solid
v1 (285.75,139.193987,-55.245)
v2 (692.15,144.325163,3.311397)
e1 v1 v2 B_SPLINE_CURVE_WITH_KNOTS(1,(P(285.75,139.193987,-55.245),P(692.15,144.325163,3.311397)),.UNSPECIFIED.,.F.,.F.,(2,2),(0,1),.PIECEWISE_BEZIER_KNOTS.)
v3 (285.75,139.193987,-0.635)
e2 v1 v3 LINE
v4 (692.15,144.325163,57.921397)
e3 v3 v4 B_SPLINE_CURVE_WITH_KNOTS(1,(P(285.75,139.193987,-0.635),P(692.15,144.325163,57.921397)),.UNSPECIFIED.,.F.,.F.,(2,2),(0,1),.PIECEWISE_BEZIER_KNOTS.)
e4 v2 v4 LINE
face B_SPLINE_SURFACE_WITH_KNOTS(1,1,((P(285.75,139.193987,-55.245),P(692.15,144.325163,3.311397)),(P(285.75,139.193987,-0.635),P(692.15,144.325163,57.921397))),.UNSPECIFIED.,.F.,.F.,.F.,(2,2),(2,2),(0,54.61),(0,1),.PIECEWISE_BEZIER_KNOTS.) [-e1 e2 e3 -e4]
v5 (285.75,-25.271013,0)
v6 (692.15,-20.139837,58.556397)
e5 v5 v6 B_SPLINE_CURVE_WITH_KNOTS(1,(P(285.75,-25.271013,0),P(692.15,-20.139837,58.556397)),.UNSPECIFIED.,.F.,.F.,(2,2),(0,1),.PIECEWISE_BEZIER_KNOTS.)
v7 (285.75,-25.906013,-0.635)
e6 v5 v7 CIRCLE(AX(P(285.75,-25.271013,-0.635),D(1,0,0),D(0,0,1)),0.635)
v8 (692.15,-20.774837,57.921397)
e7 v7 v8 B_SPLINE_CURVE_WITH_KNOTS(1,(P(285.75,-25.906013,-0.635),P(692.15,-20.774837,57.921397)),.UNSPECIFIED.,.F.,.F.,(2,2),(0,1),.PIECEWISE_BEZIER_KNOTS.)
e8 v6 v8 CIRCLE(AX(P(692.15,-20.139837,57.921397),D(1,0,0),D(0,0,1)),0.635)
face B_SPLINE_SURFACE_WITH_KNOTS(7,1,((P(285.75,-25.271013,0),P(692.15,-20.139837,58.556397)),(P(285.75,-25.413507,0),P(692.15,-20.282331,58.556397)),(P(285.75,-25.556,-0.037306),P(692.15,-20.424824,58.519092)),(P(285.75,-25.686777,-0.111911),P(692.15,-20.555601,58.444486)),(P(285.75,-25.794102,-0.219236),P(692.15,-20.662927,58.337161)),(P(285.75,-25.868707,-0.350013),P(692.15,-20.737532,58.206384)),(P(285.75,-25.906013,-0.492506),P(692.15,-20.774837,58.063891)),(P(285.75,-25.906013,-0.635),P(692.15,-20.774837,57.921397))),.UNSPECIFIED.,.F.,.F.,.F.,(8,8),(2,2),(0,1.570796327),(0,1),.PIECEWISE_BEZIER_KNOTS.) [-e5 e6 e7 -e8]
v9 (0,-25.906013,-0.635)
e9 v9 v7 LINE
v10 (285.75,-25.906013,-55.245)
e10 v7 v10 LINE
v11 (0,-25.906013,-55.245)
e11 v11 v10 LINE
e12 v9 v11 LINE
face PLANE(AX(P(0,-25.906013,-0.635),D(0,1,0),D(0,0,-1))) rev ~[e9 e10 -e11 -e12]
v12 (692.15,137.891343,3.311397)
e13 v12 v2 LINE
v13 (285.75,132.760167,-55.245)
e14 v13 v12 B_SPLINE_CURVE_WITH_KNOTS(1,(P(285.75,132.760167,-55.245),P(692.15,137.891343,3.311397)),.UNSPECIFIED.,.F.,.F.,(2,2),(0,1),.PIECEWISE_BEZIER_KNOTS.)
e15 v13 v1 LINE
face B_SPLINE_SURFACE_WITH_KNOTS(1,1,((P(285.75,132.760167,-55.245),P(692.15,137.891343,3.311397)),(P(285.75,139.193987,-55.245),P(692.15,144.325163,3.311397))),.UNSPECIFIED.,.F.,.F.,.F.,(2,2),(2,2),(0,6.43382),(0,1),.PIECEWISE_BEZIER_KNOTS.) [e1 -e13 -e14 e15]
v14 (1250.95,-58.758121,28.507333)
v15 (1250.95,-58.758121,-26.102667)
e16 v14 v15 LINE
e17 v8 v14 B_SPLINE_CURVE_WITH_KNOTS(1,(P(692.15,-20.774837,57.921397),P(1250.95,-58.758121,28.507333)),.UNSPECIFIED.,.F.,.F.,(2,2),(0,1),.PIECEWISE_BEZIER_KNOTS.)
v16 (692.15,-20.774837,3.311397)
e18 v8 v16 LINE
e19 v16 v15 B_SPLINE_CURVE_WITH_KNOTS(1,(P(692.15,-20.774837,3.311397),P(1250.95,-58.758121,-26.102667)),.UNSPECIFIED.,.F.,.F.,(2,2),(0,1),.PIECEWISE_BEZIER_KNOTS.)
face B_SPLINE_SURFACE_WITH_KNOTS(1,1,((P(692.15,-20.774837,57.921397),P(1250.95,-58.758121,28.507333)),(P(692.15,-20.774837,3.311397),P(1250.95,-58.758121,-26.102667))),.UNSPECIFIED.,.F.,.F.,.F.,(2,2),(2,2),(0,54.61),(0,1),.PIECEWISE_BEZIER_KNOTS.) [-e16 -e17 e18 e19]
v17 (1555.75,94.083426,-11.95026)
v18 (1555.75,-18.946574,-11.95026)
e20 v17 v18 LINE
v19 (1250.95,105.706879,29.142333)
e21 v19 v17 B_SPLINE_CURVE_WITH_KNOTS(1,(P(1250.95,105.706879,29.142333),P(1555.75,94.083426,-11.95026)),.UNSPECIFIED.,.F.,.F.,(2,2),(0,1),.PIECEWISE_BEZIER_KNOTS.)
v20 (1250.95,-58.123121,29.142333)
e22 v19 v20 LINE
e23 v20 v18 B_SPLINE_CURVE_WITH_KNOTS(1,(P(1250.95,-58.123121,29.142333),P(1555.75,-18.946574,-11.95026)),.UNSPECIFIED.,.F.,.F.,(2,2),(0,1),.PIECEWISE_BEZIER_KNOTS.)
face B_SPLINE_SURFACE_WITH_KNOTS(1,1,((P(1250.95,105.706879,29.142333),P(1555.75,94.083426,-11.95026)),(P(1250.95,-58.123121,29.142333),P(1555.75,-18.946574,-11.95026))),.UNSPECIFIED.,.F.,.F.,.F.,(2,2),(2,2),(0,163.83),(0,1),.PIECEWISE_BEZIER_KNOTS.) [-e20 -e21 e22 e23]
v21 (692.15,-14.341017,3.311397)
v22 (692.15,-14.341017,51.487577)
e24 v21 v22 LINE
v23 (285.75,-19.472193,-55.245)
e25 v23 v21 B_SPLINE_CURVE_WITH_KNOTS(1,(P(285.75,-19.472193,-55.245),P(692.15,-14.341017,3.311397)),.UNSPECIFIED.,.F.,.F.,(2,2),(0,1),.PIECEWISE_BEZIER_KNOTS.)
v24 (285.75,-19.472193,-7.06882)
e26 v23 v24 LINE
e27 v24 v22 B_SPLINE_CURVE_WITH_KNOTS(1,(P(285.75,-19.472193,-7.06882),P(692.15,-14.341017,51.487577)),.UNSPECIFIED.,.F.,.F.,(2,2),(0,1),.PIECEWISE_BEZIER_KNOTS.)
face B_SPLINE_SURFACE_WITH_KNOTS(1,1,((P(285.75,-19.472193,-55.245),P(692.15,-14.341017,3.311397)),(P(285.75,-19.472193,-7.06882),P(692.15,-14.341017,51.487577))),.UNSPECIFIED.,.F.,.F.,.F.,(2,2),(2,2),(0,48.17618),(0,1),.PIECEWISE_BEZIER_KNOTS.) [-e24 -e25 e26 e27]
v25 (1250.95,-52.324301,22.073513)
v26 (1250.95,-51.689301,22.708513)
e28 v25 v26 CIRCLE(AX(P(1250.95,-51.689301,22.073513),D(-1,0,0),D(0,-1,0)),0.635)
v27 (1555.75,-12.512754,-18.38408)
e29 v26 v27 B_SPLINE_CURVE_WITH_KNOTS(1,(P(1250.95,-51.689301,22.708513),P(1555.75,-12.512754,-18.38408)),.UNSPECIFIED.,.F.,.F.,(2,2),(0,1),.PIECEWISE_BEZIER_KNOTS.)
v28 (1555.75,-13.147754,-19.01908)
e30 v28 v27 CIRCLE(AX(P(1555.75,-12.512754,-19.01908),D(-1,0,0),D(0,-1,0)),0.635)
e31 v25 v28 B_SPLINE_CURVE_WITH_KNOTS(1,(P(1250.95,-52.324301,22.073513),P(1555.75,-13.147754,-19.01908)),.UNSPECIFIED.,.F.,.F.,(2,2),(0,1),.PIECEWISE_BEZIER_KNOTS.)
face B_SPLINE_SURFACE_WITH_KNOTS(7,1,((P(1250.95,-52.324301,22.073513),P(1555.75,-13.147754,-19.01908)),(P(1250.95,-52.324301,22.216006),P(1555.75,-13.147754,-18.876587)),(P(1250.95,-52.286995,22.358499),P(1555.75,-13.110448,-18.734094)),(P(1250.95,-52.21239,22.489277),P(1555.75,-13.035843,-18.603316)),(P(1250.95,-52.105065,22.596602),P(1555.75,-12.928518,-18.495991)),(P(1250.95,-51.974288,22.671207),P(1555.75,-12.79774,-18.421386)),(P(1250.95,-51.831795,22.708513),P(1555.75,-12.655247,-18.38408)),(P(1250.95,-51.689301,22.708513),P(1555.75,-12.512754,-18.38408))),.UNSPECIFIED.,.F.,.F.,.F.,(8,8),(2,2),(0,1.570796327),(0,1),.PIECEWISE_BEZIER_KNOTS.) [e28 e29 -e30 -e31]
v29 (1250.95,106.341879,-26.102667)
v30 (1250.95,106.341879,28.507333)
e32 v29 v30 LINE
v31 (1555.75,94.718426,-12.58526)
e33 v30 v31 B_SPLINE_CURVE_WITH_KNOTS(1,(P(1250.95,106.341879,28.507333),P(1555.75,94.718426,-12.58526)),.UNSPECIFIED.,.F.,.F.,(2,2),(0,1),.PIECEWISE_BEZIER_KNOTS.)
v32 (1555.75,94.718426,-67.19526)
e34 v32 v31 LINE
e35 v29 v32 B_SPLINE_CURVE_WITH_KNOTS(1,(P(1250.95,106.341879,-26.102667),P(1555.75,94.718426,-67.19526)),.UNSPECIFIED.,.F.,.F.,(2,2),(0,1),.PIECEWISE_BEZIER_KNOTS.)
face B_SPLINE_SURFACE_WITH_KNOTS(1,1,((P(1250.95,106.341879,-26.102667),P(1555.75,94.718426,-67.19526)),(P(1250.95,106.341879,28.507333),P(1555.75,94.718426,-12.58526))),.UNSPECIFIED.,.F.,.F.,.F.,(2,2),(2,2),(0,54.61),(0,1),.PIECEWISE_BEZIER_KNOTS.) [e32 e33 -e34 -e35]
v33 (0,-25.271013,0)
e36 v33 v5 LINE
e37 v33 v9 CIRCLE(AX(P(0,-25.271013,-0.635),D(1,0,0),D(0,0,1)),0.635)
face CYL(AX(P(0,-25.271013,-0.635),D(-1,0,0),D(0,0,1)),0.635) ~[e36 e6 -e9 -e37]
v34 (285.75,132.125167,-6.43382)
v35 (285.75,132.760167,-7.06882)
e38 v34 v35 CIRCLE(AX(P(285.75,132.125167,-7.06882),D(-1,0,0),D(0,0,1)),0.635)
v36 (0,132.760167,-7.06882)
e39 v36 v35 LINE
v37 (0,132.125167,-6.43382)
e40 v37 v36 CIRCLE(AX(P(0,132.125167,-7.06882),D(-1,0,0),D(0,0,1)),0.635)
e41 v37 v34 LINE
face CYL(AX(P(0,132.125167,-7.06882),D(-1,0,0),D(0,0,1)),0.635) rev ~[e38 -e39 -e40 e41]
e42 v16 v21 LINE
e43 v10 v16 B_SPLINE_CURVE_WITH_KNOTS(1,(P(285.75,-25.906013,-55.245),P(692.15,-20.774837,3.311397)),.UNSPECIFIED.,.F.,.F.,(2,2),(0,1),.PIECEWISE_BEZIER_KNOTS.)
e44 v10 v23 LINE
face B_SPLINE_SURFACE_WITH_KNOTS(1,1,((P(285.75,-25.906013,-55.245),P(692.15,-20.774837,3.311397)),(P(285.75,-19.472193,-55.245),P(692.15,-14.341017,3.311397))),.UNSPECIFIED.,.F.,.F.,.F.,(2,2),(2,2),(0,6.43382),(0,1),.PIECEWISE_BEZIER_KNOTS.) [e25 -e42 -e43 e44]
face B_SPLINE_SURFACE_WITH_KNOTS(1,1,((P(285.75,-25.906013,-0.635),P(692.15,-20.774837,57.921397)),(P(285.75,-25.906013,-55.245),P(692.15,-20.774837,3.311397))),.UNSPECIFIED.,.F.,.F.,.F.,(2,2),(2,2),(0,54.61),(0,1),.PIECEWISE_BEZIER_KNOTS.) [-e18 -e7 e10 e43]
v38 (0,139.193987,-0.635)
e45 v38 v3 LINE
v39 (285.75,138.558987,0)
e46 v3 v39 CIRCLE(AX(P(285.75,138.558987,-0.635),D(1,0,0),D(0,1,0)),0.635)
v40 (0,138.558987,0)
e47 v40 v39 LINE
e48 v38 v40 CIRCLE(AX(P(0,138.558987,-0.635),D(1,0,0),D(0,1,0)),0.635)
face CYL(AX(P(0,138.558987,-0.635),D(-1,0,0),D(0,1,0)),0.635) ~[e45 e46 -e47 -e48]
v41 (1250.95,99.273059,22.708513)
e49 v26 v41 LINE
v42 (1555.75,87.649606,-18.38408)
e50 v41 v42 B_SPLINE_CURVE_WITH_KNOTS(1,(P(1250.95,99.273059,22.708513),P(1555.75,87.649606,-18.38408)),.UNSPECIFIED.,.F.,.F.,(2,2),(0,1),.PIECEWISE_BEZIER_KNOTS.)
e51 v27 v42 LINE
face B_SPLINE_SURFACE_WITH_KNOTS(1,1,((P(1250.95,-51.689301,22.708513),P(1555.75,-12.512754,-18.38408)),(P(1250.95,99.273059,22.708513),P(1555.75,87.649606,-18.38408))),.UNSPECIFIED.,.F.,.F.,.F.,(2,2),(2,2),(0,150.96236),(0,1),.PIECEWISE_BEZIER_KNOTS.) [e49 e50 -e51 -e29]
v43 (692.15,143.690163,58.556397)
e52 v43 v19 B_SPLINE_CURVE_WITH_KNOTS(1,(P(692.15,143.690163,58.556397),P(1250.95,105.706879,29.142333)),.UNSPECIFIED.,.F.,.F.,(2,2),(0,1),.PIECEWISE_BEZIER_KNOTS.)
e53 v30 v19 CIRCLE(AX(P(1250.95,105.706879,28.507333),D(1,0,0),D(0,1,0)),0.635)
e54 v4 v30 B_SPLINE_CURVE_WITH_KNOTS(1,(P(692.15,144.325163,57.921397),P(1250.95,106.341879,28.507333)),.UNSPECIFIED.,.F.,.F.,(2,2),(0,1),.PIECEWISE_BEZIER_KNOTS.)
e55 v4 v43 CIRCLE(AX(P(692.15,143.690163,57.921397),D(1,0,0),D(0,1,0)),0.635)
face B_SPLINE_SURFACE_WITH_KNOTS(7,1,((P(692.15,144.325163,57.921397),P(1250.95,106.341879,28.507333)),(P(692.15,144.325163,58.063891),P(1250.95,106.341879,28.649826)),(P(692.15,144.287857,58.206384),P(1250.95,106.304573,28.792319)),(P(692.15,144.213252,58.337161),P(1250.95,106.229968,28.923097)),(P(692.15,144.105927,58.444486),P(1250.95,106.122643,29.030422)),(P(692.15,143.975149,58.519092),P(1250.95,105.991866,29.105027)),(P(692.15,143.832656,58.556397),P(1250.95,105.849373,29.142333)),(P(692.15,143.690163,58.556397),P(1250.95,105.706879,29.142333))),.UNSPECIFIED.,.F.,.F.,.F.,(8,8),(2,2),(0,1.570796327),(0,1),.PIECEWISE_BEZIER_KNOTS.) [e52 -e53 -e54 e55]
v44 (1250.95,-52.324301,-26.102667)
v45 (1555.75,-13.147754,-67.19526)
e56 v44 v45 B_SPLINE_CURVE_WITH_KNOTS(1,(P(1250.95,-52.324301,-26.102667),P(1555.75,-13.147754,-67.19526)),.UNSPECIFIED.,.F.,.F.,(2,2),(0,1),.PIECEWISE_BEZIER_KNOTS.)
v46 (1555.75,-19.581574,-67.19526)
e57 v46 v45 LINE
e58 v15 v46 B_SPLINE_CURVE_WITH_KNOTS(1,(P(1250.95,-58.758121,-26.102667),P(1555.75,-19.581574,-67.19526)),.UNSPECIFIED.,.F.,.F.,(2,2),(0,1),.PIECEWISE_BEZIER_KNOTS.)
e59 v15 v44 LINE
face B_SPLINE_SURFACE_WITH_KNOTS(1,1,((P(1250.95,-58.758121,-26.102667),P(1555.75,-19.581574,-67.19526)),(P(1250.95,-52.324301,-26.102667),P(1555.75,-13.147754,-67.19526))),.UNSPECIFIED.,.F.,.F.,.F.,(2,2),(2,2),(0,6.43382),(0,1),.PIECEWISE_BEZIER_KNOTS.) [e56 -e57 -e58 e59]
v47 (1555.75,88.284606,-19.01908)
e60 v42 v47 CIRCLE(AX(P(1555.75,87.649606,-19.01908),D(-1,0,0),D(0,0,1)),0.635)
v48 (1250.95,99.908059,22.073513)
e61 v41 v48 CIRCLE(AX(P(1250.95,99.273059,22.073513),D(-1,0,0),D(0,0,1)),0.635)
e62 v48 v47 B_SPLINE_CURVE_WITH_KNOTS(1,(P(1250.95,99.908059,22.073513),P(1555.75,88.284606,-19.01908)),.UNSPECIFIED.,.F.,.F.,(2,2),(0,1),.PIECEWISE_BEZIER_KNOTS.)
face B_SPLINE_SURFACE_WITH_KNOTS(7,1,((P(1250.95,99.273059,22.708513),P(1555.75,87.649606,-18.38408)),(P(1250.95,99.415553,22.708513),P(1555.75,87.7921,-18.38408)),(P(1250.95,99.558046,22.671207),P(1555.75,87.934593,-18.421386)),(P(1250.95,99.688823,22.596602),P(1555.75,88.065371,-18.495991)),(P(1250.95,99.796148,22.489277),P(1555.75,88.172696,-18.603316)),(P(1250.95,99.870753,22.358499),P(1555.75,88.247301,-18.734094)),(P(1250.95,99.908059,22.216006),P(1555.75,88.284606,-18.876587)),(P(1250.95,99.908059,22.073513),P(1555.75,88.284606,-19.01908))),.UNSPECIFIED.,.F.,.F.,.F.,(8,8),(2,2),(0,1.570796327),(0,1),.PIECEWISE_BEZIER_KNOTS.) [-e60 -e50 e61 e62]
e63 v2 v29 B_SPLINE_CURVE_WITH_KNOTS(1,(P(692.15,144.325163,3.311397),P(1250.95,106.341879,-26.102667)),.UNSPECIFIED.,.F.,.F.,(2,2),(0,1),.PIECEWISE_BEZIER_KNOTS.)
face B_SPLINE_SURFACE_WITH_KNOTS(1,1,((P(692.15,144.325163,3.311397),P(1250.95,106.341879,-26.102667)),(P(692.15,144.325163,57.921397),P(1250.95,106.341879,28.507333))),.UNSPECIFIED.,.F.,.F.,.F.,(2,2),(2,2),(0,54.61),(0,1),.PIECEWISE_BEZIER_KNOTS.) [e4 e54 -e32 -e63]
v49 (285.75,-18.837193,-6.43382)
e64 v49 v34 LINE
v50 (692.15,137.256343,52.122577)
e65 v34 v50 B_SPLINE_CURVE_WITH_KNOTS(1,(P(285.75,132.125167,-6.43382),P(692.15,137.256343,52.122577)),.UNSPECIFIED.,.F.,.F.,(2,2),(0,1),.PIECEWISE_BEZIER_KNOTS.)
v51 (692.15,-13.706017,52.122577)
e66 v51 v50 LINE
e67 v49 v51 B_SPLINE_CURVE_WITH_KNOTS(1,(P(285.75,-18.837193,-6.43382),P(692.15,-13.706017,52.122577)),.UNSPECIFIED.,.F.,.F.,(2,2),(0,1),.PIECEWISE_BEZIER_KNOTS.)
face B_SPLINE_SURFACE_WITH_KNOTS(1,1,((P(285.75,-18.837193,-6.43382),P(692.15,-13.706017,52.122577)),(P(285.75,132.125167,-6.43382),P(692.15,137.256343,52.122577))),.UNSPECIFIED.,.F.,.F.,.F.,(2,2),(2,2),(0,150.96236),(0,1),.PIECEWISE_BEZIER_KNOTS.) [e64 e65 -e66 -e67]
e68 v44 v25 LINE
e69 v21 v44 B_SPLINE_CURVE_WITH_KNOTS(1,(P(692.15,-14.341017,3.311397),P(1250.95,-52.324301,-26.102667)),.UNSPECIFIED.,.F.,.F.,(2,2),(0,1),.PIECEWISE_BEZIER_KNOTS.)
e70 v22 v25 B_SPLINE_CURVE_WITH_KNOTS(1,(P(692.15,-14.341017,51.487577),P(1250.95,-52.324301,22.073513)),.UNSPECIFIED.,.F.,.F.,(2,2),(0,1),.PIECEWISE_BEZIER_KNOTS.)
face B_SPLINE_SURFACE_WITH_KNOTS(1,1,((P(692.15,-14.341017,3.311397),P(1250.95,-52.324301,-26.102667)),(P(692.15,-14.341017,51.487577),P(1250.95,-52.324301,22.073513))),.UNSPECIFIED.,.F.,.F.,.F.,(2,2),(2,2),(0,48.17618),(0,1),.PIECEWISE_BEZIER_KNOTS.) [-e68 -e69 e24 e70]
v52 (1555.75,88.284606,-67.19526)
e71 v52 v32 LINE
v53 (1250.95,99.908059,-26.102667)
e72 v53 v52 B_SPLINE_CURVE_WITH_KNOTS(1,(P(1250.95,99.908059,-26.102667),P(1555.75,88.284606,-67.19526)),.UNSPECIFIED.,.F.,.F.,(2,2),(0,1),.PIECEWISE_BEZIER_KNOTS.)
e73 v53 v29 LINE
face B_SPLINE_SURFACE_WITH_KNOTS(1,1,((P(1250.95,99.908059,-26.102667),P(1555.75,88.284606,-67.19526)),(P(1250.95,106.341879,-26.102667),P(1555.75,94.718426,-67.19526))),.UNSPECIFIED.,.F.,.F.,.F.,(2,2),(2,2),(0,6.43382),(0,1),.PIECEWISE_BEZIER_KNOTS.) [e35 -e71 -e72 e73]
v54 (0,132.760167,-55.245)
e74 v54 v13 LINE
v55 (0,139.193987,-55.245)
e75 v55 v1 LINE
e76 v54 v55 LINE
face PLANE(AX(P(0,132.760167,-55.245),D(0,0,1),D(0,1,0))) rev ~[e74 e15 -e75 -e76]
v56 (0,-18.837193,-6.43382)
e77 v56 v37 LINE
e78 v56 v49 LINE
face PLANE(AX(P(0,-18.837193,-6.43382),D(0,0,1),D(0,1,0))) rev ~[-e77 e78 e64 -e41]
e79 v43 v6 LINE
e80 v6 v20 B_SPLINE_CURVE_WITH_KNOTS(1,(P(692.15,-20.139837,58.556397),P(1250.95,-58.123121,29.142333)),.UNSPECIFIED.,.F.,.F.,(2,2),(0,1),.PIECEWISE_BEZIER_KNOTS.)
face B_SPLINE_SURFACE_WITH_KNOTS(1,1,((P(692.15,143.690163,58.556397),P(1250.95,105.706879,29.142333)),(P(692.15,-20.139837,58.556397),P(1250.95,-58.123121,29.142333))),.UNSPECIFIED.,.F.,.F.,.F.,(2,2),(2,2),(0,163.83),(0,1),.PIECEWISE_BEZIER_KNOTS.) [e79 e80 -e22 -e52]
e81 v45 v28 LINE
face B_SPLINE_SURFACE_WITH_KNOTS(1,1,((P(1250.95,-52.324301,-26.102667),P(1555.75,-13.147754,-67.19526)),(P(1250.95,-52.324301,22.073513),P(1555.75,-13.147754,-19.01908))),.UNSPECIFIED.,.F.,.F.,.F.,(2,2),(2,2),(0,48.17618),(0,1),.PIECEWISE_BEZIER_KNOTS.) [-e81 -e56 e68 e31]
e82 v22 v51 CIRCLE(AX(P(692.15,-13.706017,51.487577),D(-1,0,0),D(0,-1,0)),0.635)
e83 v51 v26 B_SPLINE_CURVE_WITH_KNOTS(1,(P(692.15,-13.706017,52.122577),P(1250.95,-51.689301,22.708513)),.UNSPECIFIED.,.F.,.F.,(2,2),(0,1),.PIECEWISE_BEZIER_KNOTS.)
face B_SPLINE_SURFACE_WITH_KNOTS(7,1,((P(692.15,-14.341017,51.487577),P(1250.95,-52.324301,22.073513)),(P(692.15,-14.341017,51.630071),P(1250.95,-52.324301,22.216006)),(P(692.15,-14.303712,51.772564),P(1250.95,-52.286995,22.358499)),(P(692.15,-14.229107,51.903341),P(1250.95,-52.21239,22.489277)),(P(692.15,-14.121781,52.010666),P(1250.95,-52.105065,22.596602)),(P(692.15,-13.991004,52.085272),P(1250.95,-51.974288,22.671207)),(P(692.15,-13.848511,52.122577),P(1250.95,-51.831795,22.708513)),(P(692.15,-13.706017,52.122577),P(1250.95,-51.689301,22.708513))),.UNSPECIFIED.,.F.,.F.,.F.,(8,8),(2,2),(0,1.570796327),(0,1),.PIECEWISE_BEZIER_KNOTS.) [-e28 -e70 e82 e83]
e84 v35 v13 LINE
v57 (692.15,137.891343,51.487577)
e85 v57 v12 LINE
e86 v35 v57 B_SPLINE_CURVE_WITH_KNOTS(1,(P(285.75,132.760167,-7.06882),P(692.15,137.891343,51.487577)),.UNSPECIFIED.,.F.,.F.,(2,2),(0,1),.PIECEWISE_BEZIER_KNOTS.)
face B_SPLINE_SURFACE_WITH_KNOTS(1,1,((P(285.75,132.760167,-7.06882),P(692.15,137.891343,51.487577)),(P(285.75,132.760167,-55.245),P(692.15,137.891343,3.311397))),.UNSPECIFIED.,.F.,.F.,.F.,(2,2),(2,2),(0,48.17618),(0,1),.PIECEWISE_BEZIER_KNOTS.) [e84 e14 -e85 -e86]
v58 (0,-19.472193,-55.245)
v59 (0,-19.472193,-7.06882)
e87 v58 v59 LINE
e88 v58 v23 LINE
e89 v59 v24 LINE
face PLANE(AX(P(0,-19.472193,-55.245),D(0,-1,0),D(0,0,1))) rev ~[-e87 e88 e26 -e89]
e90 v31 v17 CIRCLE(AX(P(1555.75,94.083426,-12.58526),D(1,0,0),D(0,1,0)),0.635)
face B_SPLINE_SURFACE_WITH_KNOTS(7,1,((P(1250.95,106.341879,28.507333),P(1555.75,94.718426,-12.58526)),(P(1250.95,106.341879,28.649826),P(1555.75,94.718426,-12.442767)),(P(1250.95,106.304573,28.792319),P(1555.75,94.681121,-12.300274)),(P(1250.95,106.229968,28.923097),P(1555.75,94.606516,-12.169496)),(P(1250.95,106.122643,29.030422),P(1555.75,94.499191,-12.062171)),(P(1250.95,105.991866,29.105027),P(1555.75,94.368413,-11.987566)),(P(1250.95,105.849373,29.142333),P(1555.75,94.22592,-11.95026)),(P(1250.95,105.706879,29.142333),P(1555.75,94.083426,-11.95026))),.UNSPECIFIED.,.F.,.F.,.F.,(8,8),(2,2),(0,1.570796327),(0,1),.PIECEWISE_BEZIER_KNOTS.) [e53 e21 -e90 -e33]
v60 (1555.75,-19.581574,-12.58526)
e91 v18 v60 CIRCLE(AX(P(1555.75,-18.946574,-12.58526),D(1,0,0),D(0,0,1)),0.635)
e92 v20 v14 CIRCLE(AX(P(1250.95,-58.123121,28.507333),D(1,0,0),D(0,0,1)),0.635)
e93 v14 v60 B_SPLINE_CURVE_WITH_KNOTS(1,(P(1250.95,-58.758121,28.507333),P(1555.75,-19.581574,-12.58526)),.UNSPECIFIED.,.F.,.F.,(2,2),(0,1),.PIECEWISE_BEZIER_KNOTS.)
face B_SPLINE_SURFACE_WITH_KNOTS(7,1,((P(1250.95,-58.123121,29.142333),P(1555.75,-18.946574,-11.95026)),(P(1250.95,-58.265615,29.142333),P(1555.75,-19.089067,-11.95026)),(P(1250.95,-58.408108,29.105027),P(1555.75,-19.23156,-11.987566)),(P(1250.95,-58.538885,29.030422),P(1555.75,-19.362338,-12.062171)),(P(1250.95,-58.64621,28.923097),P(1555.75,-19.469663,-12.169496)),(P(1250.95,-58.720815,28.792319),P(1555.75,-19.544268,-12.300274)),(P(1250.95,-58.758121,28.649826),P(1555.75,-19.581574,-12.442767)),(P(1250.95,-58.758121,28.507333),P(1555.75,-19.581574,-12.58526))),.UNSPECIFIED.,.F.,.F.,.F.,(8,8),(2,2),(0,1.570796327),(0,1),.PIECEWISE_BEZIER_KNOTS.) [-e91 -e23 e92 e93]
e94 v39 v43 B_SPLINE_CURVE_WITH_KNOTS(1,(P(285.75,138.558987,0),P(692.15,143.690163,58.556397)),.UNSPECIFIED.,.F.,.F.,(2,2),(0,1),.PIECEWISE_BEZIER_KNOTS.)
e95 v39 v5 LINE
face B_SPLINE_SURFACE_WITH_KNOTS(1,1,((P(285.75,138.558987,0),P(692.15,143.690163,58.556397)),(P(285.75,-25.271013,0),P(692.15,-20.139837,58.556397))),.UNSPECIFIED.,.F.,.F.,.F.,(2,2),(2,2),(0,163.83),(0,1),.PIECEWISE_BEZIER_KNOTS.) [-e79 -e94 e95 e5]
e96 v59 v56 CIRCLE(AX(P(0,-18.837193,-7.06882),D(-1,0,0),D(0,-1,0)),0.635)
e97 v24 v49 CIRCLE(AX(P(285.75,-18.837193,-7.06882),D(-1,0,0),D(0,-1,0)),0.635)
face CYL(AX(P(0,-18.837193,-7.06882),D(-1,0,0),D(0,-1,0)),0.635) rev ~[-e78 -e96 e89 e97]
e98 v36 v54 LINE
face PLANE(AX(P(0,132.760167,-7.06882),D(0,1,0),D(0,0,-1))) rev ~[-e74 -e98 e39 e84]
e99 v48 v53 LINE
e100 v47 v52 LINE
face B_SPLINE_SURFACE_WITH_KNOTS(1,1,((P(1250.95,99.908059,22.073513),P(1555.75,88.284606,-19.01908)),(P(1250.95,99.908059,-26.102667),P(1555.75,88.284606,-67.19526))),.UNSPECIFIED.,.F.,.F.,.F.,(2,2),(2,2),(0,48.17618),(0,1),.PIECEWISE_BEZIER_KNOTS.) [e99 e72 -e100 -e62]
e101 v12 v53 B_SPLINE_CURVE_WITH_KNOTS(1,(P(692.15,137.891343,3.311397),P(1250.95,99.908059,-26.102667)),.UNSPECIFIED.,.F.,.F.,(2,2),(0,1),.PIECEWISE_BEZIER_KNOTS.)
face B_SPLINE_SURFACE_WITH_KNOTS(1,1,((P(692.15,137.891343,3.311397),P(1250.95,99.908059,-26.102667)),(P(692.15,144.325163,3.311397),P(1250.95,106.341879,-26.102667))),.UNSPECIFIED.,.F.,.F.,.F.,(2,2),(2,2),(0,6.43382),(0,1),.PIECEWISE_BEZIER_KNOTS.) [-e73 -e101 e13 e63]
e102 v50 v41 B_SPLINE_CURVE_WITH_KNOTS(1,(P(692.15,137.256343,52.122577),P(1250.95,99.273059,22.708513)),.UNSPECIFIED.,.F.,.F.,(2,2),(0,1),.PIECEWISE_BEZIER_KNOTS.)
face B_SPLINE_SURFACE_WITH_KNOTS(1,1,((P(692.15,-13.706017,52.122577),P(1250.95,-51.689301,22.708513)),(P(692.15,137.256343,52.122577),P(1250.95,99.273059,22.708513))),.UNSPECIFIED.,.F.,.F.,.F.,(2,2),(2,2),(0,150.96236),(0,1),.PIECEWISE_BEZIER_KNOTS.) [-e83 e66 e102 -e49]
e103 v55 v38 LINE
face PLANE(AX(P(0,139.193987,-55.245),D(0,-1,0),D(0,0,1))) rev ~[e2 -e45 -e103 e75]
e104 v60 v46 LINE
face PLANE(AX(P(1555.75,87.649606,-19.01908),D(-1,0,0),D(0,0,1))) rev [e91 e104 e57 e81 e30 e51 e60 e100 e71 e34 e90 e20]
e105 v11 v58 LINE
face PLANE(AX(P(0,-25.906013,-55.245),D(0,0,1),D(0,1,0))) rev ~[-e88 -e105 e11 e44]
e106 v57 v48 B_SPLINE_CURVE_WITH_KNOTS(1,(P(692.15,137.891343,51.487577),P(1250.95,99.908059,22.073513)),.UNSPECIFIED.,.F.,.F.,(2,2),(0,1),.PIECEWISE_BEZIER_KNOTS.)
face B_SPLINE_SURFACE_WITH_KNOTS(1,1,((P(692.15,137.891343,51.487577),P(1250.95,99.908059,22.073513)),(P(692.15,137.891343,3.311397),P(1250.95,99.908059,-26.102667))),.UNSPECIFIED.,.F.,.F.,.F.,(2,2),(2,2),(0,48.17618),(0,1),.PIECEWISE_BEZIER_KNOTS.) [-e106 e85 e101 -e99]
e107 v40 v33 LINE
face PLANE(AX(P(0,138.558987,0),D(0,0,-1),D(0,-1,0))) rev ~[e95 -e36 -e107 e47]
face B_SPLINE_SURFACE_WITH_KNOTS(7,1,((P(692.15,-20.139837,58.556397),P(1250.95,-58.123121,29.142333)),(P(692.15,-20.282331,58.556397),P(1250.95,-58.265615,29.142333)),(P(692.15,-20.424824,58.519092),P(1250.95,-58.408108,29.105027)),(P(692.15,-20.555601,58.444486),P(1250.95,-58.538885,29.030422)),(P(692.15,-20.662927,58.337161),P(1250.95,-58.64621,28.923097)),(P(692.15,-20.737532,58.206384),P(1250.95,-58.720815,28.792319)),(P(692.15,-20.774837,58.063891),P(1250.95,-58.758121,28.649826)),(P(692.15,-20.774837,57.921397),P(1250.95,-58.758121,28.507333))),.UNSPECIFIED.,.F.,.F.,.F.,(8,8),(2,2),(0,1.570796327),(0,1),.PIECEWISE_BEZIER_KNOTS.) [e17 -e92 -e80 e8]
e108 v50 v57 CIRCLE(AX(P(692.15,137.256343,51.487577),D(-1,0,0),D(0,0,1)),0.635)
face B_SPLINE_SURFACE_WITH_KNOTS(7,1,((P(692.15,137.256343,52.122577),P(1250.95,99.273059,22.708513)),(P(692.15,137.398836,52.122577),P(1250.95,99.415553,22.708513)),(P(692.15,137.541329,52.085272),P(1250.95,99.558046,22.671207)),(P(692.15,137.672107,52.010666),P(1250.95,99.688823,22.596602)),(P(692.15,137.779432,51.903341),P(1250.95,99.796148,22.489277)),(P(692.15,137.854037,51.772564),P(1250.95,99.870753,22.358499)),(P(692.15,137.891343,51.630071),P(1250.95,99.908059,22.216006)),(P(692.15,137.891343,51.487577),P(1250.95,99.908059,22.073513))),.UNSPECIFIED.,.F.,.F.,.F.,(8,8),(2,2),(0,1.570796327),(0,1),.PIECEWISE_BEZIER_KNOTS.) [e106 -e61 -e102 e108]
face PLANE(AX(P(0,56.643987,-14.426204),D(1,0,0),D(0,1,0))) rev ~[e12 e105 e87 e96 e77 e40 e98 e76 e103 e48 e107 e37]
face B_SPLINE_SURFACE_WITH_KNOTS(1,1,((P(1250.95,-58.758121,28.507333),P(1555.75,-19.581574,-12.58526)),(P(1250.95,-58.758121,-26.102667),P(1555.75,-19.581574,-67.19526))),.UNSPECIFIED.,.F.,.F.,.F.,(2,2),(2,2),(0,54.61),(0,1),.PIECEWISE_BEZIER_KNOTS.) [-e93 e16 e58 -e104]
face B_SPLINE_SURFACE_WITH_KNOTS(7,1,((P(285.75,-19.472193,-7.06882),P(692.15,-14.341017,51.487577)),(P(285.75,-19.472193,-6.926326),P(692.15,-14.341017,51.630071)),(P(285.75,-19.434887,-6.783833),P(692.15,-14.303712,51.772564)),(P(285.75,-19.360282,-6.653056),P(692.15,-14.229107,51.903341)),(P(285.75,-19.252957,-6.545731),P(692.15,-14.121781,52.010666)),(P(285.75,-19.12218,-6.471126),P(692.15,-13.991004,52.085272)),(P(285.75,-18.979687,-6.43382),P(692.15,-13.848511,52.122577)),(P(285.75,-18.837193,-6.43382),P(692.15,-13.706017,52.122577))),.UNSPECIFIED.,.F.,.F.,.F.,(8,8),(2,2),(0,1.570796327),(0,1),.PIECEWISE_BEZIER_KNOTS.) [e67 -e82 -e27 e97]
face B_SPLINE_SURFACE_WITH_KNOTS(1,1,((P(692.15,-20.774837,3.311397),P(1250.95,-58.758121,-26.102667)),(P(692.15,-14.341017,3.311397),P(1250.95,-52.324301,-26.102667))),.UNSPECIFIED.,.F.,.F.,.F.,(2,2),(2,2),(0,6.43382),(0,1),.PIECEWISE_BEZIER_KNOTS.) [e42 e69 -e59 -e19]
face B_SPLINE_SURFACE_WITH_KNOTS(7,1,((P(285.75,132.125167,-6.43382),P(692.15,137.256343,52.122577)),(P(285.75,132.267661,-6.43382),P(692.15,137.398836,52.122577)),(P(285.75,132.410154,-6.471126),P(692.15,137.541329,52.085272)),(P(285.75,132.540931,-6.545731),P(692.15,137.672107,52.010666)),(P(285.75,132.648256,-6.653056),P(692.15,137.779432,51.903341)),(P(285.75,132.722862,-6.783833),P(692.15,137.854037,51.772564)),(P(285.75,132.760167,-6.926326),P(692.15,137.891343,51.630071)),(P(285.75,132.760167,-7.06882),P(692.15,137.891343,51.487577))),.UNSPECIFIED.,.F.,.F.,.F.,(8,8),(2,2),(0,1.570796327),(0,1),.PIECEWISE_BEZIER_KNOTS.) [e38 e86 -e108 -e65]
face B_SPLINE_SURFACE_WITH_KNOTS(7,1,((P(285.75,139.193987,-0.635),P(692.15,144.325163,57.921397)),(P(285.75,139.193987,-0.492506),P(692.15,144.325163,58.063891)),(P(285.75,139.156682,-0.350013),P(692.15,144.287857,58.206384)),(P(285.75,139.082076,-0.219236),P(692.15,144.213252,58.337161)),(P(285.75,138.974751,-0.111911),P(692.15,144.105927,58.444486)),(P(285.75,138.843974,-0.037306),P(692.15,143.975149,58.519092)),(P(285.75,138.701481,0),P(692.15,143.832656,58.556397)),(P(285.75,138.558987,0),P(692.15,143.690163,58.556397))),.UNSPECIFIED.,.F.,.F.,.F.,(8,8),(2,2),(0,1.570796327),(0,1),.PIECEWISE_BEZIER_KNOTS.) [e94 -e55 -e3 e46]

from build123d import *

# Parameters (mm, degrees)
F1_DEPTH = 285.75


with BuildPart() as f1:
    # F0 (on Right) → F1 (new body)
    with BuildSketch(Plane.YZ):
        with BuildLine():
            Line((139.1939870883, -55.245), (139.1939870883, -0.635))
            ThreePointArc((139.1939870883, -0.635), (139.0079998944, -0.1859871939), (138.5589870883, 0))
            Line((138.5589870883, 0), (-25.2710129117, 0))
            ThreePointArc((-25.2710129117, 0), (-25.7200257177, -0.1859871939), (-25.9060129117, -0.635))
            Line((-25.9060129117, -0.635), (-25.9060129117, -55.245))
            Line((-25.9060129117, -55.245), (-19.4721929117, -55.245))
            Line((-19.4721929117, -55.245), (-19.4721929117, -7.06882))
            ThreePointArc((-19.4721929117, -7.06882), (-19.2862057177, -6.6198071939), (-18.8371929117, -6.43382))
            Line((-18.8371929117, -6.43382), (132.1251670883, -6.43382))
            ThreePointArc((132.1251670883, -6.43382), (132.5741798944, -6.6198071939), (132.7601670883, -7.06882))
            Line((132.7601670883, -7.06882), (132.7601670883, -55.245))
            Line((132.7601670883, -55.245), (139.1939870883, -55.245))
        make_face()
    extrude(amount=F1_DEPTH)

    # F1_face (on face) → F4 section 0
    with BuildSketch(Plane(origin=(285.75, 56.6439870883, -13.4815357622), x_dir=(0, 1, 0), z_dir=(1, 0, 0))):
        with BuildLine():
            ThreePointArc((75.48118, 7.0477157622), (75.9301928061, 6.8617285682), (76.11618, 6.4127157622))
            Line((76.11618, 6.4127157622), (76.11618, -41.7634642378))
            Line((76.11618, -41.7634642378), (82.55, -41.7634642378))
            Line((82.55, -41.7634642378), (82.55, 12.8465357622))
            ThreePointArc((82.55, 12.8465357622), (82.3640128061, 13.2955485682), (81.915, 13.4815357622))
            Line((81.915, 13.4815357622), (-81.915, 13.4815357622))
            ThreePointArc((-81.915, 13.4815357622), (-82.3640128061, 13.2955485682), (-82.55, 12.8465357622))
            Line((-82.55, 12.8465357622), (-82.55, -41.7634642378))
            Line((-82.55, -41.7634642378), (-76.11618, -41.7634642378))
            Line((-76.11618, -41.7634642378), (-76.11618, 6.4127157622))
            ThreePointArc((-76.11618, 6.4127157622), (-75.9301928061, 6.8617285682), (-75.48118, 7.0477157622))
            Line((-75.48118, 7.0477157622), (75.48118, 7.0477157622))
        make_face()
    # F3 (on offset) → F4 section 1
    with BuildSketch(Plane.YZ.offset(692.15)):
        with BuildLine():
            Line((144.325162816, 3.3113971339), (144.325162816, 57.9213971339))
            ThreePointArc((144.325162816, 57.9213971339), (144.1391756221, 58.3704099399), (143.690162816, 58.5563971339))
            Line((143.690162816, 58.5563971339), (-20.139837184, 58.5563971339))
            ThreePointArc((-20.139837184, 58.5563971339), (-20.58884999, 58.3704099399), (-20.774837184, 57.9213971339))
            Line((-20.774837184, 57.9213971339), (-20.774837184, 3.3113971339))
            Line((-20.774837184, 3.3113971339), (-14.341017184, 3.3113971339))
            Line((-14.341017184, 3.3113971339), (-14.341017184, 51.4875771339))
            ThreePointArc((-14.341017184, 51.4875771339), (-14.15502999, 51.9365899399), (-13.706017184, 52.1225771339))
            Line((-13.706017184, 52.1225771339), (137.256342816, 52.1225771339))
            ThreePointArc((137.256342816, 52.1225771339), (137.7053556221, 51.9365899399), (137.891342816, 51.4875771339))
            Line((137.891342816, 51.4875771339), (137.891342816, 3.3113971339))
            Line((137.891342816, 3.3113971339), (144.325162816, 3.3113971339))
        make_face()
    loft()

    # F4_face (on face) → F7 section 0
    with BuildSketch(Plane(origin=(692.15, 61.775162816, 45.0748613717), x_dir=(0, 1, 0), z_dir=(1, 0, 0))):
        with BuildLine():
            ThreePointArc((75.48118, 7.0477157622), (75.9301928061, 6.8617285682), (76.11618, 6.4127157622))
            Line((76.11618, 6.4127157622), (76.11618, -41.7634642378))
            Line((76.11618, -41.7634642378), (82.55, -41.7634642378))
            Line((82.55, -41.7634642378), (82.55, 12.8465357622))
            ThreePointArc((82.55, 12.8465357622), (82.3640128061, 13.2955485682), (81.915, 13.4815357622))
            Line((81.915, 13.4815357622), (-81.915, 13.4815357622))
            ThreePointArc((-81.915, 13.4815357622), (-82.3640128061, 13.2955485682), (-82.55, 12.8465357622))
            Line((-82.55, 12.8465357622), (-82.55, -41.7634642378))
            Line((-82.55, -41.7634642378), (-76.11618, -41.7634642378))
            Line((-76.11618, -41.7634642378), (-76.11618, 6.4127157622))
            ThreePointArc((-76.11618, 6.4127157622), (-75.9301928061, 6.8617285682), (-75.48118, 7.0477157622))
            Line((-75.48118, 7.0477157622), (75.48118, 7.0477157622))
        make_face()
    # F6 (on offset) → F7 section 1
    with BuildSketch(Plane.YZ.offset(1250.95)):
        with BuildLine():
            Line((106.3418790059, -26.1026672399), (106.3418790059, 28.5073327601))
            ThreePointArc((106.3418790059, 28.5073327601), (106.1558918119, 28.9563455661), (105.7068790059, 29.1423327601))
            Line((105.7068790059, 29.1423327601), (-58.1231209941, 29.1423327601))
            ThreePointArc((-58.1231209941, 29.1423327601), (-58.5721338002, 28.9563455661), (-58.7581209941, 28.5073327601))
            Line((-58.7581209941, 28.5073327601), (-58.7581209941, -26.1026672399))
            Line((-58.7581209941, -26.1026672399), (-52.3243009941, -26.1026672399))
            Line((-52.3243009941, -26.1026672399), (-52.3243009941, 22.0735127601))
            ThreePointArc((-52.3243009941, 22.0735127601), (-52.1383138002, 22.5225255661), (-51.6893009941, 22.7085127601))
            Line((-51.6893009941, 22.7085127601), (99.2730590059, 22.7085127601))
            ThreePointArc((99.2730590059, 22.7085127601), (99.7220718119, 22.5225255661), (99.9080590059, 22.0735127601))
            Line((99.9080590059, 22.0735127601), (99.9080590059, -26.1026672399))
            Line((99.9080590059, -26.1026672399), (106.3418790059, -26.1026672399))
        make_face()
    loft()

    # F7_face (on face) → F10 section 0
    with BuildSketch(Plane(origin=(1250.95, 23.7918790059, 15.6607969979), x_dir=(0, 1, 0), z_dir=(1, 0, 0))):
        with BuildLine():
            ThreePointArc((75.48118, 7.0477157622), (75.9301928061, 6.8617285682), (76.11618, 6.4127157622))
            Line((76.11618, 6.4127157622), (76.11618, -41.7634642378))
            Line((76.11618, -41.7634642378), (82.55, -41.7634642378))
            Line((82.55, -41.7634642378), (82.55, 12.8465357622))
            ThreePointArc((82.55, 12.8465357622), (82.3640128061, 13.2955485682), (81.915, 13.4815357622))
            Line((81.915, 13.4815357622), (-81.915, 13.4815357622))
            ThreePointArc((-81.915, 13.4815357622), (-82.3640128061, 13.2955485682), (-82.55, 12.8465357622))
            Line((-82.55, 12.8465357622), (-82.55, -41.7634642378))
            Line((-82.55, -41.7634642378), (-76.11618, -41.7634642378))
            Line((-76.11618, -41.7634642378), (-76.11618, 6.4127157622))
            ThreePointArc((-76.11618, 6.4127157622), (-75.9301928061, 6.8617285682), (-75.48118, 7.0477157622))
            Line((-75.48118, 7.0477157622), (75.48118, 7.0477157622))
        make_face()
    # F9 (on offset) → F10 section 1
    with BuildSketch(Plane.YZ.offset(1555.75)):
        with BuildLine():
            Line((94.718426384, -67.1952603455), (94.718426384, -12.5852603455))
            ThreePointArc((94.718426384, -12.5852603455), (94.5324391901, -12.1362475394), (94.083426384, -11.9502603455))
            Line((94.083426384, -11.9502603455), (-18.946573616, -11.9502603455))
            ThreePointArc((-18.946573616, -11.9502603455), (-19.395586422, -12.1362475394), (-19.581573616, -12.5852603455))
            Line((-19.581573616, -12.5852603455), (-19.581573616, -67.1952603455))
            Line((-19.581573616, -67.1952603455), (-13.147753616, -67.1952603455))
            Line((-13.147753616, -67.1952603455), (-13.147753616, -19.0190803455))
            ThreePointArc((-13.147753616, -19.0190803455), (-12.961766422, -18.5700675394), (-12.512753616, -18.3840803455))
            Line((-12.512753616, -18.3840803455), (87.649606384, -18.3840803455))
            ThreePointArc((87.649606384, -18.3840803455), (88.0986191901, -18.5700675394), (88.284606384, -19.0190803455))
            Line((88.284606384, -19.0190803455), (88.284606384, -67.1952603455))
            Line((88.284606384, -67.1952603455), (94.718426384, -67.1952603455))
        make_face()
    loft()


solid = f1.part
